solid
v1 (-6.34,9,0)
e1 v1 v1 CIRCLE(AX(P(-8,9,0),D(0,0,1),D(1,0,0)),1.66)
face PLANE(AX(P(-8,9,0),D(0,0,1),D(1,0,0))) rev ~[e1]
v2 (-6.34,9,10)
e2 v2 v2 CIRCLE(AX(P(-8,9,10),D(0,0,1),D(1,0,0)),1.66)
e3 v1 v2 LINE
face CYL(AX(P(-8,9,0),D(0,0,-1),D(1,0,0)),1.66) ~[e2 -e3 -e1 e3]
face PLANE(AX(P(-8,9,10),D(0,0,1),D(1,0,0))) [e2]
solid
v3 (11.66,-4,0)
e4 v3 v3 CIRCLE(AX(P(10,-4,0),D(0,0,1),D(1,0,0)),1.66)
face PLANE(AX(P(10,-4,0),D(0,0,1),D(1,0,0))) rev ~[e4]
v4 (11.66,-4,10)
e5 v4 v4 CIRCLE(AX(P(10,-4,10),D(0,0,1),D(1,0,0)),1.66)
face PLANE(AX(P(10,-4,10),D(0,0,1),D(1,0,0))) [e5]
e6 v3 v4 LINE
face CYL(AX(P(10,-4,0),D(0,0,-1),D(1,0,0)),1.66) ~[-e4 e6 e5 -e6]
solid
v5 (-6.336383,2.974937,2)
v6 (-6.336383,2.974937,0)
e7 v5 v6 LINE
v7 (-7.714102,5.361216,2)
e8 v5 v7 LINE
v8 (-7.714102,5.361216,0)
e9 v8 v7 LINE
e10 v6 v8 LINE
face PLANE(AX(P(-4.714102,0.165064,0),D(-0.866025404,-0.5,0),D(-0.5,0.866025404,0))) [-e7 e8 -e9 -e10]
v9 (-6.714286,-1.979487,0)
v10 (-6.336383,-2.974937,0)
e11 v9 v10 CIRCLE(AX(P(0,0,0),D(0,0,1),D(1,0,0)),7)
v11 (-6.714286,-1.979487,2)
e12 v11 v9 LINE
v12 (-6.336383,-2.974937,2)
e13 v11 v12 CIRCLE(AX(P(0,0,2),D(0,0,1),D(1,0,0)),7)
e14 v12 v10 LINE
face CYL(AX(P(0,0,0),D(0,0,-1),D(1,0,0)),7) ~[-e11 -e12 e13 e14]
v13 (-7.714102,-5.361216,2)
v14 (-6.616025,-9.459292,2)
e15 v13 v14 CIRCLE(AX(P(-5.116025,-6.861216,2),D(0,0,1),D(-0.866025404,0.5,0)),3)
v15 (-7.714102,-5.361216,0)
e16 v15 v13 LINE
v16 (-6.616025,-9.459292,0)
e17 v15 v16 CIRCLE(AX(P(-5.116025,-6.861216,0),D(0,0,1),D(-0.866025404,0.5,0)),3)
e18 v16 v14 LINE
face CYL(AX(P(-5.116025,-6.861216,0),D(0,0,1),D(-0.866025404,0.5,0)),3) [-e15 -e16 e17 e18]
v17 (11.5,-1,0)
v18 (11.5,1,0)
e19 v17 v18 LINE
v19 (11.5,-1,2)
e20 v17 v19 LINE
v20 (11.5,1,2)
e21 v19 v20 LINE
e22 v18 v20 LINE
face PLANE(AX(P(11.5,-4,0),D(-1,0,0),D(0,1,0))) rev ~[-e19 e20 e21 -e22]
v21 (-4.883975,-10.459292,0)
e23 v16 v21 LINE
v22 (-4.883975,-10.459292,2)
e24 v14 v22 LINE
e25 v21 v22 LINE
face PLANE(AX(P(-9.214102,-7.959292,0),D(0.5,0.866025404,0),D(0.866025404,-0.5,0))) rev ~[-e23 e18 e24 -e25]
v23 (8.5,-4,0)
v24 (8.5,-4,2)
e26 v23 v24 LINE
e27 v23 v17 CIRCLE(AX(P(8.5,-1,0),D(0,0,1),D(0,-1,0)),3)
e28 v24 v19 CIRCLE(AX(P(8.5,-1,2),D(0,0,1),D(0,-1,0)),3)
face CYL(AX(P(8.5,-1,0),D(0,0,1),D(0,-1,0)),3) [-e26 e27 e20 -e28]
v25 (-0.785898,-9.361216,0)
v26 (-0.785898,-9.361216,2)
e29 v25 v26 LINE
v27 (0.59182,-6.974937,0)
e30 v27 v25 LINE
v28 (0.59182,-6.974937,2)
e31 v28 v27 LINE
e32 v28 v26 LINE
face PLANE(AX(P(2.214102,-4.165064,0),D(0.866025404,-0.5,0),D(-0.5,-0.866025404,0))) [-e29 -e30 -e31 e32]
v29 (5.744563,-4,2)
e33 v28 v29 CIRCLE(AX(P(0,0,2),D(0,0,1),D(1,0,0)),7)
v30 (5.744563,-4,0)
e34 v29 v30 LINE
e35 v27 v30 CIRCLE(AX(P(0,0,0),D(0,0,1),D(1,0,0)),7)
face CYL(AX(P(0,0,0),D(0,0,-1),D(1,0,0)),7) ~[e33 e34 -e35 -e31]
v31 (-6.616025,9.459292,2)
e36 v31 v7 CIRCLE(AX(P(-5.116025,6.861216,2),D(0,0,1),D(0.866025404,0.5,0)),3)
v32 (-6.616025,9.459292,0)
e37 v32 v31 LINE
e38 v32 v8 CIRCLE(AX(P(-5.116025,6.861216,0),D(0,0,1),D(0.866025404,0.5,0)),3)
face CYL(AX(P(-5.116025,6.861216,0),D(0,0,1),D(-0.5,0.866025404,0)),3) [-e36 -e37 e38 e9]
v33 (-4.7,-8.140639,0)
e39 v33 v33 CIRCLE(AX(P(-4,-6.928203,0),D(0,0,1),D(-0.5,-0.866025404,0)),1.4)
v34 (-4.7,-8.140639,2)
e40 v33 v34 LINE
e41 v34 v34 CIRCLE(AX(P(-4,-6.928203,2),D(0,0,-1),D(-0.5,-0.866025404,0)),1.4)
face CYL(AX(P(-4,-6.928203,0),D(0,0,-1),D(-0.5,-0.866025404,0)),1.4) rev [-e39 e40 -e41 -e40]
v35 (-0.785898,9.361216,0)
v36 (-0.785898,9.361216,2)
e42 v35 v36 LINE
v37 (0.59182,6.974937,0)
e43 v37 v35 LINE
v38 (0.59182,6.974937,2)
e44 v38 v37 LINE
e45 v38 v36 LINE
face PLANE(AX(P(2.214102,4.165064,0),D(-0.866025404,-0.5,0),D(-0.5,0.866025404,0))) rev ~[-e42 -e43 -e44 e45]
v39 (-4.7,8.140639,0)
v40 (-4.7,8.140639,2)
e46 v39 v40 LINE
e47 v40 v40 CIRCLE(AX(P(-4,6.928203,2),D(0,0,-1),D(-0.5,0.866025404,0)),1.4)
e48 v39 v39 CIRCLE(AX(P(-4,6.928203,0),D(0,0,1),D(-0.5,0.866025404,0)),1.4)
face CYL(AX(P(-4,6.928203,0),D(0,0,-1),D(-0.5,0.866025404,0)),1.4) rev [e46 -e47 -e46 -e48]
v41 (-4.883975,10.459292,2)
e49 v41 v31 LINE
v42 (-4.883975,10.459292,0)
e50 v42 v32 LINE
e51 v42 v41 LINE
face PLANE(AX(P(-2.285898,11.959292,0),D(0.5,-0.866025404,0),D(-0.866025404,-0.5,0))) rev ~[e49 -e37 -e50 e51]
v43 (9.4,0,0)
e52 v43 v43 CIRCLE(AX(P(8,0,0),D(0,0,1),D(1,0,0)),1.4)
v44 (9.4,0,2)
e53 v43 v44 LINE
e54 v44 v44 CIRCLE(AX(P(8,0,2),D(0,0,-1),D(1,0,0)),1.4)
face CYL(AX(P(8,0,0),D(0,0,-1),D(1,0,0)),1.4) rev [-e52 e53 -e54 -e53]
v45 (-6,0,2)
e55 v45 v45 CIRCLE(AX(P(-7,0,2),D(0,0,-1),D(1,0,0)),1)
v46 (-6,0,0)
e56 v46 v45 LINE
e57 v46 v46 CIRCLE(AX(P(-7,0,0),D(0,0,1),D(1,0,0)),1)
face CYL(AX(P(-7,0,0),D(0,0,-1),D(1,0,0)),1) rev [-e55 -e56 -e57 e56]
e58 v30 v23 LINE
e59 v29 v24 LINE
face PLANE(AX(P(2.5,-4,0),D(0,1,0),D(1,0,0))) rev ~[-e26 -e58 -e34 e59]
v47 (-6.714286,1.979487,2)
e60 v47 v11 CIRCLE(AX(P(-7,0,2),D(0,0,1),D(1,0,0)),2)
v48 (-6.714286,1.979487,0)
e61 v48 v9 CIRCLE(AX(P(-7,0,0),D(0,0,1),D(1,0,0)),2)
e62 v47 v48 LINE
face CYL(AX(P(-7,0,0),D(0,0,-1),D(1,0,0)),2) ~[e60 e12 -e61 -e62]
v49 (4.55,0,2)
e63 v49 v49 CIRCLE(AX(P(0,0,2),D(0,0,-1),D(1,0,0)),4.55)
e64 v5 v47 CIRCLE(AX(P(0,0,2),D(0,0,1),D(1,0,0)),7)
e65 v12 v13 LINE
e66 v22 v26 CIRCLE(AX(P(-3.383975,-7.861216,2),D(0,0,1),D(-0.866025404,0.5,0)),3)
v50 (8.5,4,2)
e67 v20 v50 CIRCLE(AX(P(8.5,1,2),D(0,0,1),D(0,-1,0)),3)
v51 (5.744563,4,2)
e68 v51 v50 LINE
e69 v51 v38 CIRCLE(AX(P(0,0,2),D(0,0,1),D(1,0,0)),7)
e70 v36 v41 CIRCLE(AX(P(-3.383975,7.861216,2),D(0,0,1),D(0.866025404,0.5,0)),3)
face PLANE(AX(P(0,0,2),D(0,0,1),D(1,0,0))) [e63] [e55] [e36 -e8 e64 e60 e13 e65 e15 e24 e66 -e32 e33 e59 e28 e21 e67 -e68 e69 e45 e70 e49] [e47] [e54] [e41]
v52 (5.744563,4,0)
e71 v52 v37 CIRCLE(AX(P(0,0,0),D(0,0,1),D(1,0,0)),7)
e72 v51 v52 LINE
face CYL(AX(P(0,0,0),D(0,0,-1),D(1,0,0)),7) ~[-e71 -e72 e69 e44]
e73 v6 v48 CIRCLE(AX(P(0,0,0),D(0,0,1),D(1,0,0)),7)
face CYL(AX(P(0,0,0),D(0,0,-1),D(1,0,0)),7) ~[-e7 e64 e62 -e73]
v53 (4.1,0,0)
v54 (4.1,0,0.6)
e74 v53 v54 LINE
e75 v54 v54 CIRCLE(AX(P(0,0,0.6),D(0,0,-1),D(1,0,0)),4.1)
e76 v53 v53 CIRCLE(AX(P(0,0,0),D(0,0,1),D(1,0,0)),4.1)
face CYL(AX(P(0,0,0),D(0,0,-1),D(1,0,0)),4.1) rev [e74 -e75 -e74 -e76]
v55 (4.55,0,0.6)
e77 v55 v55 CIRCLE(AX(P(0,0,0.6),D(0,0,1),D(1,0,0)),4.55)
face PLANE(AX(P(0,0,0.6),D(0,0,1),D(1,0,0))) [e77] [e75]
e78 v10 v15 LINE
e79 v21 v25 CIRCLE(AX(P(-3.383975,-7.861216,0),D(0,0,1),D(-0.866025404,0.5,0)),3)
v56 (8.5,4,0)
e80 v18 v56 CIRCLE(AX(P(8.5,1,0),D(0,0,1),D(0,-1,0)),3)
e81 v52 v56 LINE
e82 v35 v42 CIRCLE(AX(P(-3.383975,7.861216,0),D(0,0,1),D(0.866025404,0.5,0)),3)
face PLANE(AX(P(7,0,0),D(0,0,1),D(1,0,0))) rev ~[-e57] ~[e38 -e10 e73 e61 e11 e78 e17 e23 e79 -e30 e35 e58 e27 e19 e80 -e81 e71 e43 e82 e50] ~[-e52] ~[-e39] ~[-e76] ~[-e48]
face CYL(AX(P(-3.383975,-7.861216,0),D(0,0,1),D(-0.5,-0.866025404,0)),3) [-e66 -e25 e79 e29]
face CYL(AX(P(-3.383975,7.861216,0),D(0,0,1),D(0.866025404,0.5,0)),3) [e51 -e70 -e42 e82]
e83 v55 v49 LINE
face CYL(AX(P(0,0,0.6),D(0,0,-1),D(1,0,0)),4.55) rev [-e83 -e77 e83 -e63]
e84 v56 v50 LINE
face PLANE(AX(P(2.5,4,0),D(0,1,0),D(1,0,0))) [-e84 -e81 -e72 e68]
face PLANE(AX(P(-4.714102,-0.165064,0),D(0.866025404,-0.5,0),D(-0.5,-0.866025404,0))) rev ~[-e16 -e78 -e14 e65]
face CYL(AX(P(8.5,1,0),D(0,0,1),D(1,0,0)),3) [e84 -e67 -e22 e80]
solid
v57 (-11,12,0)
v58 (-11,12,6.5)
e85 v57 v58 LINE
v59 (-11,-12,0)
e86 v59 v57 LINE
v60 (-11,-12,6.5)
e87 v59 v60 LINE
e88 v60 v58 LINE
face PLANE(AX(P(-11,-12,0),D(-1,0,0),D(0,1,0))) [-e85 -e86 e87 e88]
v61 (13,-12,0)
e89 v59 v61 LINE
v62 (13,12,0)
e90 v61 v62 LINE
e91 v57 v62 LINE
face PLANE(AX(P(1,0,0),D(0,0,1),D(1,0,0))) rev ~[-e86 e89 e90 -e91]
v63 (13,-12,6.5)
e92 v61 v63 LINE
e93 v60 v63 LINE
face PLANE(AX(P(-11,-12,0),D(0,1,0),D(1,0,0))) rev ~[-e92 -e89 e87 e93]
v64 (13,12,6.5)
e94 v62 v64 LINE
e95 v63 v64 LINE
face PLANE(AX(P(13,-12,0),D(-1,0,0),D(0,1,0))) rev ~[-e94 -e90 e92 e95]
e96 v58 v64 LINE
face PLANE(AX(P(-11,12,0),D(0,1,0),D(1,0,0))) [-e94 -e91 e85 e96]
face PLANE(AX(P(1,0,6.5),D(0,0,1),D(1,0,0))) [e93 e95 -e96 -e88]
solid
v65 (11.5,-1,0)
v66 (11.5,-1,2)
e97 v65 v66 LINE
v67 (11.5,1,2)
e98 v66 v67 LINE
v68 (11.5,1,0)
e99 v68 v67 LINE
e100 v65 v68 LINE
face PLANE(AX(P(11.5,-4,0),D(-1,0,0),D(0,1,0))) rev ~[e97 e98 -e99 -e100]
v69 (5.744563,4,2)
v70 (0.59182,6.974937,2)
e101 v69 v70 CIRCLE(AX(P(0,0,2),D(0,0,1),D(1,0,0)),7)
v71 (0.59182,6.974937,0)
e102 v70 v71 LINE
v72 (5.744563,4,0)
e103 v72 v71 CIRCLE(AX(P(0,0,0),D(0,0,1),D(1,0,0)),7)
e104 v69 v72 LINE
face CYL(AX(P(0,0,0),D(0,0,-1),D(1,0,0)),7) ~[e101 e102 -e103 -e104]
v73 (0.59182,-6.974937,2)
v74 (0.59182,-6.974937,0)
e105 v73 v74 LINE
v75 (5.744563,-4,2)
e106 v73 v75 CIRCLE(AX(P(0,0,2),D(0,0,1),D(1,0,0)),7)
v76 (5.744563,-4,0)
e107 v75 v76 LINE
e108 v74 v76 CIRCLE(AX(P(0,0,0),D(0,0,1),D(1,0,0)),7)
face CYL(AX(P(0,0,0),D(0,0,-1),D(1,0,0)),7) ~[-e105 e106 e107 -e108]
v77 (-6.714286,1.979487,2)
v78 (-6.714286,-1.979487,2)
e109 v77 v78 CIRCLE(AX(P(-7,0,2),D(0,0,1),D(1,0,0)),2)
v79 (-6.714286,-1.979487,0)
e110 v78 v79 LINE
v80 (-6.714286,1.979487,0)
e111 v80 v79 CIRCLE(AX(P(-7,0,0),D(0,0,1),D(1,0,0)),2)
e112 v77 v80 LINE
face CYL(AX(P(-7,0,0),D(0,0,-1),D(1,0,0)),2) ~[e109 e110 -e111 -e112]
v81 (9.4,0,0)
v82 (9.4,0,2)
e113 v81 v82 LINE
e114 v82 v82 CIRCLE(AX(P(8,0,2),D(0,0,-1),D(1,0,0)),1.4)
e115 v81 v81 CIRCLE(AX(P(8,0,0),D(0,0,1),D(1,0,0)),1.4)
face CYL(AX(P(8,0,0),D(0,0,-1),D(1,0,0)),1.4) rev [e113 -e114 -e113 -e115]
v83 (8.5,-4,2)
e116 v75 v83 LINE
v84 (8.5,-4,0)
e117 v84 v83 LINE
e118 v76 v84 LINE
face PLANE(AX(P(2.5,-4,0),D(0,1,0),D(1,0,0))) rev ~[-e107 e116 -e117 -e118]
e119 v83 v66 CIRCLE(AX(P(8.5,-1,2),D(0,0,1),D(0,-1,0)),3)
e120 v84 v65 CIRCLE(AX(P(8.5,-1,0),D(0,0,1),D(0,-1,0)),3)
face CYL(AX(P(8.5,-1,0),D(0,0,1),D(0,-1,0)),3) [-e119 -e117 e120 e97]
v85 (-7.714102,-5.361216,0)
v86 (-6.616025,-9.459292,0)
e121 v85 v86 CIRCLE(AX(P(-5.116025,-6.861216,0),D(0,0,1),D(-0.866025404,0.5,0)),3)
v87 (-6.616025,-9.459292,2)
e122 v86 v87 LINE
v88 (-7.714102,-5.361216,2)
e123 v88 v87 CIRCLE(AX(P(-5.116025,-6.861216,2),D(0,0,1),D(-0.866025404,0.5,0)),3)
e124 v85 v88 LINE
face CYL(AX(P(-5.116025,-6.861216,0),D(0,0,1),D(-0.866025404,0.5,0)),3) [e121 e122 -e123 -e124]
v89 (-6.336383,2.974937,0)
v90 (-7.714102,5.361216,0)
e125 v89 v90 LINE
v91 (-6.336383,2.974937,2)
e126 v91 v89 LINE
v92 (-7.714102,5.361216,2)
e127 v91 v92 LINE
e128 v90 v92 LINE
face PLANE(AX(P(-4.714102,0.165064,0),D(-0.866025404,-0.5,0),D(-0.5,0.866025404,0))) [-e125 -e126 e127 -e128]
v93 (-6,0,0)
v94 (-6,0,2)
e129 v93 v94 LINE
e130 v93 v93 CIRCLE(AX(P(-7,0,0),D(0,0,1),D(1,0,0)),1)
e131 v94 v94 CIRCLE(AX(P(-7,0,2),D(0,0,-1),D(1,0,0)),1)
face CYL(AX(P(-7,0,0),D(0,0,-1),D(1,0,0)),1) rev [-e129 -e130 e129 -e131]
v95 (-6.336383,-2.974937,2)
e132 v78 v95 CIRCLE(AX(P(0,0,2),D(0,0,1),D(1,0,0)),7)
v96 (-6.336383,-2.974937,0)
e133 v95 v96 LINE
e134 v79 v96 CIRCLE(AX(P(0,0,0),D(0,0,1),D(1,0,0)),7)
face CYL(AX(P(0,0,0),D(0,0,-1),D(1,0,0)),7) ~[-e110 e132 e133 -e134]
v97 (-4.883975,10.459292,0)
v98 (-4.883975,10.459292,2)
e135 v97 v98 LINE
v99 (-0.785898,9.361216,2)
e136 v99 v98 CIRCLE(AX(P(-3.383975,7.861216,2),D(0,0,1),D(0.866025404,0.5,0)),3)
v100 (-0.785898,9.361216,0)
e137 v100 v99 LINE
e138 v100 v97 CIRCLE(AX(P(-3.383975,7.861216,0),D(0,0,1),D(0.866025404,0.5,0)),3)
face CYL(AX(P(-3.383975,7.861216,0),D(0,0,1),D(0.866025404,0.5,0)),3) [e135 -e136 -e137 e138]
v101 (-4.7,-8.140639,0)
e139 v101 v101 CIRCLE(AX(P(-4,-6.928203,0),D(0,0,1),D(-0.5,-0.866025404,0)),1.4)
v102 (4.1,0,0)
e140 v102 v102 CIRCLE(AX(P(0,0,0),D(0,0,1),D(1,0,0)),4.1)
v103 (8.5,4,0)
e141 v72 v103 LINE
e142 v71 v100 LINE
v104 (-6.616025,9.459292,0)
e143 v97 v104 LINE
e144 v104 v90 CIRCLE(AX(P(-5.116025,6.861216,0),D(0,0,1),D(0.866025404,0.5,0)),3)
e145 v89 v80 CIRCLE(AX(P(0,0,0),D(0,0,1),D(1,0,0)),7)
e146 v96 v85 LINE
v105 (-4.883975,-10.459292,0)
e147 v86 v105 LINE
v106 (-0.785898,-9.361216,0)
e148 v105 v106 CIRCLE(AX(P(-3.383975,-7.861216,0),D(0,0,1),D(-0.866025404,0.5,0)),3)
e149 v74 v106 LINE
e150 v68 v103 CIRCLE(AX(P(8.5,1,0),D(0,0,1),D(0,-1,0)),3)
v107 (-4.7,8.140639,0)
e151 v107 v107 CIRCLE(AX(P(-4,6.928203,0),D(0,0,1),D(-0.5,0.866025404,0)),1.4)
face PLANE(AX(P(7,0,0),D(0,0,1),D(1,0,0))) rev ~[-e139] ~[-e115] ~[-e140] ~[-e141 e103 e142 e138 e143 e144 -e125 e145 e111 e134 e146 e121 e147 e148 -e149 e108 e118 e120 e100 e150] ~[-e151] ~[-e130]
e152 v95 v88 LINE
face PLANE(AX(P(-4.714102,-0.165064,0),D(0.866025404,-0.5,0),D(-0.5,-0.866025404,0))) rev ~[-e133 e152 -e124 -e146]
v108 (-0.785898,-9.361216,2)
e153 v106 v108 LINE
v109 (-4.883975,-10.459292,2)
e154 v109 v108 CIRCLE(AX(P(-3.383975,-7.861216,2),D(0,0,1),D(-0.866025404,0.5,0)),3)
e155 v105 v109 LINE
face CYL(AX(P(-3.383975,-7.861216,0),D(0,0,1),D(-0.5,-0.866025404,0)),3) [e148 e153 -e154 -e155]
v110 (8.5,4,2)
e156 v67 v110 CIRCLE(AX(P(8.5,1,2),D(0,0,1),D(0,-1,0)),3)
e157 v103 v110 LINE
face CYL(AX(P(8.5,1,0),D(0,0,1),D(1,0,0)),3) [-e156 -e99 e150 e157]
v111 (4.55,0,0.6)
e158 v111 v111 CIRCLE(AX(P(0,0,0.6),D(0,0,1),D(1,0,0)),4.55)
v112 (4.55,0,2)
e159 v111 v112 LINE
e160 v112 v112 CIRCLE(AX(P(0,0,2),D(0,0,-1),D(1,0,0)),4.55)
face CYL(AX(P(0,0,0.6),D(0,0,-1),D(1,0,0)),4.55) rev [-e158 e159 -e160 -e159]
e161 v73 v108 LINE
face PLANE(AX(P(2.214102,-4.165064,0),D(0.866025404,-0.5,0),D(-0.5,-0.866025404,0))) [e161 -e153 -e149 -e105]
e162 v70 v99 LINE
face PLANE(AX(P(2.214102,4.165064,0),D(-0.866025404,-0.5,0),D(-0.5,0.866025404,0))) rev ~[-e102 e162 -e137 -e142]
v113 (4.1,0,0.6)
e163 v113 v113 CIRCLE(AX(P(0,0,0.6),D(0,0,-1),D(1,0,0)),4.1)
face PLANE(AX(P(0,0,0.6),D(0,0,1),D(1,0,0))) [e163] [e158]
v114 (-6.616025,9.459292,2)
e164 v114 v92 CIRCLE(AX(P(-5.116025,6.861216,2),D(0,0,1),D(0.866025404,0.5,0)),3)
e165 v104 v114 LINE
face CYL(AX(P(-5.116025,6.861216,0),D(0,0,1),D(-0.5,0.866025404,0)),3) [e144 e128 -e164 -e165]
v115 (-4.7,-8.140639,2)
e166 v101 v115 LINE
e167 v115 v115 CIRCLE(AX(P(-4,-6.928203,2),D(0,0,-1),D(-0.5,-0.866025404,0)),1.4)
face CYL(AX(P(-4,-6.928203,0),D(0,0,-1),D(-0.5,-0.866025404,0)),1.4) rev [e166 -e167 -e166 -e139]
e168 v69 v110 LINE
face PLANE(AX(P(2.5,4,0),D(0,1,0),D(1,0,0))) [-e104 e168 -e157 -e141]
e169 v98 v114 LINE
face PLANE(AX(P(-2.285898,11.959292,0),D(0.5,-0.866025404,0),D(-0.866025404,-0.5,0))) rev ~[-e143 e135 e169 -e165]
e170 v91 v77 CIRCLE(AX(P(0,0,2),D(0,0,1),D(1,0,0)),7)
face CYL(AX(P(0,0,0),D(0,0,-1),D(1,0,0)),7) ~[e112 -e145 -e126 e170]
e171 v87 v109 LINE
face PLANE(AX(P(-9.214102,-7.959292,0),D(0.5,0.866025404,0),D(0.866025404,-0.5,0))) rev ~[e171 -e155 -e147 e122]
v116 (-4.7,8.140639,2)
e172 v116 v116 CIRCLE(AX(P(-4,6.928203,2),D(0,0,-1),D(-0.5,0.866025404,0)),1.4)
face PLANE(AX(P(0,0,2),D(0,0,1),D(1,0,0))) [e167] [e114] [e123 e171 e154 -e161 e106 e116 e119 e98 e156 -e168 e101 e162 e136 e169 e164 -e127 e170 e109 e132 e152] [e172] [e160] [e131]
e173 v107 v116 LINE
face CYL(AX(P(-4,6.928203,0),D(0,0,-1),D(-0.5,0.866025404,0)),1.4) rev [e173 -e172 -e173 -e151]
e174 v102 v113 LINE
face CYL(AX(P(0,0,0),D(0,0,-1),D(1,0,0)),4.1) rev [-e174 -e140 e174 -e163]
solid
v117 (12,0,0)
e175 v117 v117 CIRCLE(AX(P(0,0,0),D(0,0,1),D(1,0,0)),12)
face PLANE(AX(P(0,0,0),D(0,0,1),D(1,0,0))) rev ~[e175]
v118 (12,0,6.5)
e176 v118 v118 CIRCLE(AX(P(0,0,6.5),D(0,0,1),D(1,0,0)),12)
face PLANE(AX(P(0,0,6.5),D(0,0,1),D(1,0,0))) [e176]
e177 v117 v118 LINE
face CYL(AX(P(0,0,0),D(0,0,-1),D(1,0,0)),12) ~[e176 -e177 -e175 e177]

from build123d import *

# Parameters (mm, degrees)
CYLINDER027_R     = 4.55
CYLINDER027_DEPTH = 10
CYLINDER026_R     = 4.1
CYLINDER026_DEPTH = 10
CYLINDER033_R     = 1
CYLINDER033_DEPTH = 10
CYLINDER024_R     = 1.4
CYLINDER024_DEPTH = 10
ARRAY_COUNT       = 3
BOX001_W          = 9
BOX001_H          = 8
BOX001_DEPTH      = 2
FILLET_R          = 3
ARRAY001_COUNT    = 3
CYLINDER023_R     = 7
CYLINDER023_DEPTH = 2
CYLINDER034_R     = 2
CYLINDER034_DEPTH = 2
CYLINDER044_R     = 12
CYLINDER044_DEPTH = 6.5
CYLINDER_R        = 1.66
CYLINDER_DEPTH    = 10
BOX_W             = 24
BOX_H             = 24
BOX_DEPTH         = 6.5
CYLINDER045_R     = 1.66
CYLINDER045_DEPTH = 10
CYLINDER049_R     = 4.55
CYLINDER049_DEPTH = 10
CYLINDER048_R     = 4.1
CYLINDER048_DEPTH = 10
CYLINDER046_R     = 1
CYLINDER046_DEPTH = 10
CYLINDER047_R     = 1.4
CYLINDER047_DEPTH = 10
ARRAY002_COUNT    = 3
BOX002_W          = 9
BOX002_H          = 8
BOX002_DEPTH      = 2
FILLET001_R       = 3
ARRAY003_COUNT    = 3
CYLINDER050_R     = 7
CYLINDER050_DEPTH = 2
CYLINDER051_R     = 2
CYLINDER051_DEPTH = 2


with BuildPart() as mountplatelip:
    # Cylinder027 → Cylinder027 (new body)
    with BuildSketch(Plane.XY.offset(0.6)):
        Circle(CYLINDER027_R)
    extrude(amount=CYLINDER027_DEPTH)


with BuildPart() as mountplateinnerhole:
    # Cylinder026 → Cylinder026 (new body)
    with BuildSketch(Plane.XY):
        Circle(CYLINDER026_R)
    extrude(amount=CYLINDER026_DEPTH)


with BuildPart() as cylinder018:
    # Cylinder033 → Cylinder033 (new body)
    with BuildSketch(Plane(origin=(-7, 0, 0), x_dir=(1, 0, 0), z_dir=(0, 0, 1))):
        Circle(CYLINDER033_R)
    extrude(amount=CYLINDER033_DEPTH)


with BuildPart() as fusion009:
    # Cylinder024 → Cylinder024 (new body)
    with BuildSketch(Plane(origin=(8, 0, 0), x_dir=(1, 0, 0), z_dir=(0, 0, 1))):
        Circle(CYLINDER024_R)
    extrude(amount=CYLINDER024_DEPTH)

    # Array: Fusion009 ×3 about axis
    array_axis = Axis((0, 0, 0), (0, 0, 1))


with BuildPart() as fusion009_1:
    add(fusion009.part)
    for i in range(1, ARRAY_COUNT):
        add(fusion009.part.rotate(array_axis, i * 360 / ARRAY_COUNT))

    # Fusion009: union MountPlateLip, MountPlateInnerHole, Cylinder018
    add(mountplatelip.part)
    add(mountplateinnerhole.part)
    add(cylinder018.part)


with BuildPart() as array001:
    # Box001 → Box001 (new body)
    with BuildSketch(Plane(origin=(2.5, -4, 0), x_dir=(1, 0, 0), z_dir=(0, 0, 1))):
        with Locations((4.5, 4)):
            Rectangle(BOX001_W, BOX001_H)
    extrude(amount=BOX001_DEPTH)

    # Fillet
    fillet_edges = [array001.edges().sort_by_distance(p)[0] for p in [
        (11.5, -4, 1),
        (11.5, 4, 1),
    ]]
    fillet(fillet_edges, radius=FILLET_R)

    # Array001: Array001 ×3 about axis
    array001_axis = Axis((0, 0, 0), (0, 0, 1))


with BuildPart() as array001_1:
    add(array001.part)
    for i in range(1, ARRAY001_COUNT):
        add(array001.part.rotate(array001_axis, i * 360 / ARRAY001_COUNT))


with BuildPart() as mountplatebody:
    # Cylinder023 → Cylinder023 (new body)
    with BuildSketch(Plane.XY):
        Circle(CYLINDER023_R)
    extrude(amount=CYLINDER023_DEPTH)


with BuildPart() as cut010:
    # Cylinder034 → Cylinder034 (new body)
    with BuildSketch(Plane(origin=(-7, 0, 0), x_dir=(1, 0, 0), z_dir=(0, 0, 1))):
        Circle(CYLINDER034_R)
    extrude(amount=CYLINDER034_DEPTH)

    # Fusion008: union Array001, MountPlateBody
    add(array001_1.part)
    add(mountplatebody.part)

    # Cut010: cut Fusion009
    add(fusion009_1.part, mode=Mode.SUBTRACT)


with BuildPart() as cylinder026:
    # Cylinder044 → Cylinder044 (new body)
    with BuildSketch(Plane.XY):
        Circle(CYLINDER044_R)
    extrude(amount=CYLINDER044_DEPTH)


with BuildPart() as sprue:
    # Cylinder → Cylinder (new body)
    with BuildSketch(Plane(origin=(10, -4, 0), x_dir=(1, 0, 0), z_dir=(0, 0, 1))):
        Circle(CYLINDER_R)
    extrude(amount=CYLINDER_DEPTH)


with BuildPart() as cube:
    # Box → Box (new body)
    with BuildSketch(Plane(origin=(-11, -12, 0), x_dir=(1, 0, 0), z_dir=(0, 0, 1))):
        with Locations((12, 12)):
            Rectangle(BOX_W, BOX_H)
    extrude(amount=BOX_DEPTH)


with BuildPart() as sprue001:
    # Cylinder045 → Cylinder045 (new body)
    with BuildSketch(Plane(origin=(-8, 9, 0), x_dir=(1, 0, 0), z_dir=(0, 0, 1))):
        Circle(CYLINDER045_R)
    extrude(amount=CYLINDER045_DEPTH)


with BuildPart() as mountplatelip001:
    # Cylinder049 → Cylinder049 (new body)
    with BuildSketch(Plane.XY.offset(0.6)):
        Circle(CYLINDER049_R)
    extrude(amount=CYLINDER049_DEPTH)


with BuildPart() as mountplateinnerhole001:
    # Cylinder048 → Cylinder048 (new body)
    with BuildSketch(Plane.XY):
        Circle(CYLINDER048_R)
    extrude(amount=CYLINDER048_DEPTH)


with BuildPart() as cylinder027:
    # Cylinder046 → Cylinder046 (new body)
    with BuildSketch(Plane(origin=(-7, 0, 0), x_dir=(1, 0, 0), z_dir=(0, 0, 1))):
        Circle(CYLINDER046_R)
    extrude(amount=CYLINDER046_DEPTH)


with BuildPart() as fusion011:
    # Cylinder047 → Cylinder047 (new body)
    with BuildSketch(Plane(origin=(8, 0, 0), x_dir=(1, 0, 0), z_dir=(0, 0, 1))):
        Circle(CYLINDER047_R)
    extrude(amount=CYLINDER047_DEPTH)

    # Array002: Fusion011 ×3 about axis
    array002_axis = Axis((0, 0, 0), (0, 0, 1))


with BuildPart() as fusion011_1:
    add(fusion011.part)
    for i in range(1, ARRAY002_COUNT):
        add(fusion011.part.rotate(array002_axis, i * 360 / ARRAY002_COUNT))

    # Fusion011: union MountPlateLip001, MountPlateInnerHole001, Cylinder027
    add(mountplatelip001.part)
    add(mountplateinnerhole001.part)
    add(cylinder027.part)


with BuildPart() as array003:
    # Box002 → Box002 (new body)
    with BuildSketch(Plane(origin=(2.5, -4, 0), x_dir=(1, 0, 0), z_dir=(0, 0, 1))):
        with Locations((4.5, 4)):
            Rectangle(BOX002_W, BOX002_H)
    extrude(amount=BOX002_DEPTH)

    # Fillet001
    fillet001_edges = [array003.edges().sort_by_distance(p)[0] for p in [
        (11.5, -4, 1),
        (11.5, 4, 1),
    ]]
    fillet(fillet001_edges, radius=FILLET001_R)

    # Array003: Array003 ×3 about axis
    array003_axis = Axis((0, 0, 0), (0, 0, 1))


with BuildPart() as array003_1:
    add(array003.part)
    for i in range(1, ARRAY003_COUNT):
        add(array003.part.rotate(array003_axis, i * 360 / ARRAY003_COUNT))


with BuildPart() as mountplatebody001:
    # Cylinder050 → Cylinder050 (new body)
    with BuildSketch(Plane.XY):
        Circle(CYLINDER050_R)
    extrude(amount=CYLINDER050_DEPTH)


with BuildPart() as cut011:
    # Cylinder051 → Cylinder051 (new body)
    with BuildSketch(Plane(origin=(-7, 0, 0), x_dir=(1, 0, 0), z_dir=(0, 0, 1))):
        Circle(CYLINDER051_R)
    extrude(amount=CYLINDER051_DEPTH)

    # Fusion010: union Array003, MountPlateBody001
    add(array003_1.part)
    add(mountplatebody001.part)

    # Cut011: cut Fusion011
    add(fusion011_1.part, mode=Mode.SUBTRACT)


solid = Compound([cut010.part, cylinder026.part, sprue.part, cube.part, sprue001.part, cut011.part])
